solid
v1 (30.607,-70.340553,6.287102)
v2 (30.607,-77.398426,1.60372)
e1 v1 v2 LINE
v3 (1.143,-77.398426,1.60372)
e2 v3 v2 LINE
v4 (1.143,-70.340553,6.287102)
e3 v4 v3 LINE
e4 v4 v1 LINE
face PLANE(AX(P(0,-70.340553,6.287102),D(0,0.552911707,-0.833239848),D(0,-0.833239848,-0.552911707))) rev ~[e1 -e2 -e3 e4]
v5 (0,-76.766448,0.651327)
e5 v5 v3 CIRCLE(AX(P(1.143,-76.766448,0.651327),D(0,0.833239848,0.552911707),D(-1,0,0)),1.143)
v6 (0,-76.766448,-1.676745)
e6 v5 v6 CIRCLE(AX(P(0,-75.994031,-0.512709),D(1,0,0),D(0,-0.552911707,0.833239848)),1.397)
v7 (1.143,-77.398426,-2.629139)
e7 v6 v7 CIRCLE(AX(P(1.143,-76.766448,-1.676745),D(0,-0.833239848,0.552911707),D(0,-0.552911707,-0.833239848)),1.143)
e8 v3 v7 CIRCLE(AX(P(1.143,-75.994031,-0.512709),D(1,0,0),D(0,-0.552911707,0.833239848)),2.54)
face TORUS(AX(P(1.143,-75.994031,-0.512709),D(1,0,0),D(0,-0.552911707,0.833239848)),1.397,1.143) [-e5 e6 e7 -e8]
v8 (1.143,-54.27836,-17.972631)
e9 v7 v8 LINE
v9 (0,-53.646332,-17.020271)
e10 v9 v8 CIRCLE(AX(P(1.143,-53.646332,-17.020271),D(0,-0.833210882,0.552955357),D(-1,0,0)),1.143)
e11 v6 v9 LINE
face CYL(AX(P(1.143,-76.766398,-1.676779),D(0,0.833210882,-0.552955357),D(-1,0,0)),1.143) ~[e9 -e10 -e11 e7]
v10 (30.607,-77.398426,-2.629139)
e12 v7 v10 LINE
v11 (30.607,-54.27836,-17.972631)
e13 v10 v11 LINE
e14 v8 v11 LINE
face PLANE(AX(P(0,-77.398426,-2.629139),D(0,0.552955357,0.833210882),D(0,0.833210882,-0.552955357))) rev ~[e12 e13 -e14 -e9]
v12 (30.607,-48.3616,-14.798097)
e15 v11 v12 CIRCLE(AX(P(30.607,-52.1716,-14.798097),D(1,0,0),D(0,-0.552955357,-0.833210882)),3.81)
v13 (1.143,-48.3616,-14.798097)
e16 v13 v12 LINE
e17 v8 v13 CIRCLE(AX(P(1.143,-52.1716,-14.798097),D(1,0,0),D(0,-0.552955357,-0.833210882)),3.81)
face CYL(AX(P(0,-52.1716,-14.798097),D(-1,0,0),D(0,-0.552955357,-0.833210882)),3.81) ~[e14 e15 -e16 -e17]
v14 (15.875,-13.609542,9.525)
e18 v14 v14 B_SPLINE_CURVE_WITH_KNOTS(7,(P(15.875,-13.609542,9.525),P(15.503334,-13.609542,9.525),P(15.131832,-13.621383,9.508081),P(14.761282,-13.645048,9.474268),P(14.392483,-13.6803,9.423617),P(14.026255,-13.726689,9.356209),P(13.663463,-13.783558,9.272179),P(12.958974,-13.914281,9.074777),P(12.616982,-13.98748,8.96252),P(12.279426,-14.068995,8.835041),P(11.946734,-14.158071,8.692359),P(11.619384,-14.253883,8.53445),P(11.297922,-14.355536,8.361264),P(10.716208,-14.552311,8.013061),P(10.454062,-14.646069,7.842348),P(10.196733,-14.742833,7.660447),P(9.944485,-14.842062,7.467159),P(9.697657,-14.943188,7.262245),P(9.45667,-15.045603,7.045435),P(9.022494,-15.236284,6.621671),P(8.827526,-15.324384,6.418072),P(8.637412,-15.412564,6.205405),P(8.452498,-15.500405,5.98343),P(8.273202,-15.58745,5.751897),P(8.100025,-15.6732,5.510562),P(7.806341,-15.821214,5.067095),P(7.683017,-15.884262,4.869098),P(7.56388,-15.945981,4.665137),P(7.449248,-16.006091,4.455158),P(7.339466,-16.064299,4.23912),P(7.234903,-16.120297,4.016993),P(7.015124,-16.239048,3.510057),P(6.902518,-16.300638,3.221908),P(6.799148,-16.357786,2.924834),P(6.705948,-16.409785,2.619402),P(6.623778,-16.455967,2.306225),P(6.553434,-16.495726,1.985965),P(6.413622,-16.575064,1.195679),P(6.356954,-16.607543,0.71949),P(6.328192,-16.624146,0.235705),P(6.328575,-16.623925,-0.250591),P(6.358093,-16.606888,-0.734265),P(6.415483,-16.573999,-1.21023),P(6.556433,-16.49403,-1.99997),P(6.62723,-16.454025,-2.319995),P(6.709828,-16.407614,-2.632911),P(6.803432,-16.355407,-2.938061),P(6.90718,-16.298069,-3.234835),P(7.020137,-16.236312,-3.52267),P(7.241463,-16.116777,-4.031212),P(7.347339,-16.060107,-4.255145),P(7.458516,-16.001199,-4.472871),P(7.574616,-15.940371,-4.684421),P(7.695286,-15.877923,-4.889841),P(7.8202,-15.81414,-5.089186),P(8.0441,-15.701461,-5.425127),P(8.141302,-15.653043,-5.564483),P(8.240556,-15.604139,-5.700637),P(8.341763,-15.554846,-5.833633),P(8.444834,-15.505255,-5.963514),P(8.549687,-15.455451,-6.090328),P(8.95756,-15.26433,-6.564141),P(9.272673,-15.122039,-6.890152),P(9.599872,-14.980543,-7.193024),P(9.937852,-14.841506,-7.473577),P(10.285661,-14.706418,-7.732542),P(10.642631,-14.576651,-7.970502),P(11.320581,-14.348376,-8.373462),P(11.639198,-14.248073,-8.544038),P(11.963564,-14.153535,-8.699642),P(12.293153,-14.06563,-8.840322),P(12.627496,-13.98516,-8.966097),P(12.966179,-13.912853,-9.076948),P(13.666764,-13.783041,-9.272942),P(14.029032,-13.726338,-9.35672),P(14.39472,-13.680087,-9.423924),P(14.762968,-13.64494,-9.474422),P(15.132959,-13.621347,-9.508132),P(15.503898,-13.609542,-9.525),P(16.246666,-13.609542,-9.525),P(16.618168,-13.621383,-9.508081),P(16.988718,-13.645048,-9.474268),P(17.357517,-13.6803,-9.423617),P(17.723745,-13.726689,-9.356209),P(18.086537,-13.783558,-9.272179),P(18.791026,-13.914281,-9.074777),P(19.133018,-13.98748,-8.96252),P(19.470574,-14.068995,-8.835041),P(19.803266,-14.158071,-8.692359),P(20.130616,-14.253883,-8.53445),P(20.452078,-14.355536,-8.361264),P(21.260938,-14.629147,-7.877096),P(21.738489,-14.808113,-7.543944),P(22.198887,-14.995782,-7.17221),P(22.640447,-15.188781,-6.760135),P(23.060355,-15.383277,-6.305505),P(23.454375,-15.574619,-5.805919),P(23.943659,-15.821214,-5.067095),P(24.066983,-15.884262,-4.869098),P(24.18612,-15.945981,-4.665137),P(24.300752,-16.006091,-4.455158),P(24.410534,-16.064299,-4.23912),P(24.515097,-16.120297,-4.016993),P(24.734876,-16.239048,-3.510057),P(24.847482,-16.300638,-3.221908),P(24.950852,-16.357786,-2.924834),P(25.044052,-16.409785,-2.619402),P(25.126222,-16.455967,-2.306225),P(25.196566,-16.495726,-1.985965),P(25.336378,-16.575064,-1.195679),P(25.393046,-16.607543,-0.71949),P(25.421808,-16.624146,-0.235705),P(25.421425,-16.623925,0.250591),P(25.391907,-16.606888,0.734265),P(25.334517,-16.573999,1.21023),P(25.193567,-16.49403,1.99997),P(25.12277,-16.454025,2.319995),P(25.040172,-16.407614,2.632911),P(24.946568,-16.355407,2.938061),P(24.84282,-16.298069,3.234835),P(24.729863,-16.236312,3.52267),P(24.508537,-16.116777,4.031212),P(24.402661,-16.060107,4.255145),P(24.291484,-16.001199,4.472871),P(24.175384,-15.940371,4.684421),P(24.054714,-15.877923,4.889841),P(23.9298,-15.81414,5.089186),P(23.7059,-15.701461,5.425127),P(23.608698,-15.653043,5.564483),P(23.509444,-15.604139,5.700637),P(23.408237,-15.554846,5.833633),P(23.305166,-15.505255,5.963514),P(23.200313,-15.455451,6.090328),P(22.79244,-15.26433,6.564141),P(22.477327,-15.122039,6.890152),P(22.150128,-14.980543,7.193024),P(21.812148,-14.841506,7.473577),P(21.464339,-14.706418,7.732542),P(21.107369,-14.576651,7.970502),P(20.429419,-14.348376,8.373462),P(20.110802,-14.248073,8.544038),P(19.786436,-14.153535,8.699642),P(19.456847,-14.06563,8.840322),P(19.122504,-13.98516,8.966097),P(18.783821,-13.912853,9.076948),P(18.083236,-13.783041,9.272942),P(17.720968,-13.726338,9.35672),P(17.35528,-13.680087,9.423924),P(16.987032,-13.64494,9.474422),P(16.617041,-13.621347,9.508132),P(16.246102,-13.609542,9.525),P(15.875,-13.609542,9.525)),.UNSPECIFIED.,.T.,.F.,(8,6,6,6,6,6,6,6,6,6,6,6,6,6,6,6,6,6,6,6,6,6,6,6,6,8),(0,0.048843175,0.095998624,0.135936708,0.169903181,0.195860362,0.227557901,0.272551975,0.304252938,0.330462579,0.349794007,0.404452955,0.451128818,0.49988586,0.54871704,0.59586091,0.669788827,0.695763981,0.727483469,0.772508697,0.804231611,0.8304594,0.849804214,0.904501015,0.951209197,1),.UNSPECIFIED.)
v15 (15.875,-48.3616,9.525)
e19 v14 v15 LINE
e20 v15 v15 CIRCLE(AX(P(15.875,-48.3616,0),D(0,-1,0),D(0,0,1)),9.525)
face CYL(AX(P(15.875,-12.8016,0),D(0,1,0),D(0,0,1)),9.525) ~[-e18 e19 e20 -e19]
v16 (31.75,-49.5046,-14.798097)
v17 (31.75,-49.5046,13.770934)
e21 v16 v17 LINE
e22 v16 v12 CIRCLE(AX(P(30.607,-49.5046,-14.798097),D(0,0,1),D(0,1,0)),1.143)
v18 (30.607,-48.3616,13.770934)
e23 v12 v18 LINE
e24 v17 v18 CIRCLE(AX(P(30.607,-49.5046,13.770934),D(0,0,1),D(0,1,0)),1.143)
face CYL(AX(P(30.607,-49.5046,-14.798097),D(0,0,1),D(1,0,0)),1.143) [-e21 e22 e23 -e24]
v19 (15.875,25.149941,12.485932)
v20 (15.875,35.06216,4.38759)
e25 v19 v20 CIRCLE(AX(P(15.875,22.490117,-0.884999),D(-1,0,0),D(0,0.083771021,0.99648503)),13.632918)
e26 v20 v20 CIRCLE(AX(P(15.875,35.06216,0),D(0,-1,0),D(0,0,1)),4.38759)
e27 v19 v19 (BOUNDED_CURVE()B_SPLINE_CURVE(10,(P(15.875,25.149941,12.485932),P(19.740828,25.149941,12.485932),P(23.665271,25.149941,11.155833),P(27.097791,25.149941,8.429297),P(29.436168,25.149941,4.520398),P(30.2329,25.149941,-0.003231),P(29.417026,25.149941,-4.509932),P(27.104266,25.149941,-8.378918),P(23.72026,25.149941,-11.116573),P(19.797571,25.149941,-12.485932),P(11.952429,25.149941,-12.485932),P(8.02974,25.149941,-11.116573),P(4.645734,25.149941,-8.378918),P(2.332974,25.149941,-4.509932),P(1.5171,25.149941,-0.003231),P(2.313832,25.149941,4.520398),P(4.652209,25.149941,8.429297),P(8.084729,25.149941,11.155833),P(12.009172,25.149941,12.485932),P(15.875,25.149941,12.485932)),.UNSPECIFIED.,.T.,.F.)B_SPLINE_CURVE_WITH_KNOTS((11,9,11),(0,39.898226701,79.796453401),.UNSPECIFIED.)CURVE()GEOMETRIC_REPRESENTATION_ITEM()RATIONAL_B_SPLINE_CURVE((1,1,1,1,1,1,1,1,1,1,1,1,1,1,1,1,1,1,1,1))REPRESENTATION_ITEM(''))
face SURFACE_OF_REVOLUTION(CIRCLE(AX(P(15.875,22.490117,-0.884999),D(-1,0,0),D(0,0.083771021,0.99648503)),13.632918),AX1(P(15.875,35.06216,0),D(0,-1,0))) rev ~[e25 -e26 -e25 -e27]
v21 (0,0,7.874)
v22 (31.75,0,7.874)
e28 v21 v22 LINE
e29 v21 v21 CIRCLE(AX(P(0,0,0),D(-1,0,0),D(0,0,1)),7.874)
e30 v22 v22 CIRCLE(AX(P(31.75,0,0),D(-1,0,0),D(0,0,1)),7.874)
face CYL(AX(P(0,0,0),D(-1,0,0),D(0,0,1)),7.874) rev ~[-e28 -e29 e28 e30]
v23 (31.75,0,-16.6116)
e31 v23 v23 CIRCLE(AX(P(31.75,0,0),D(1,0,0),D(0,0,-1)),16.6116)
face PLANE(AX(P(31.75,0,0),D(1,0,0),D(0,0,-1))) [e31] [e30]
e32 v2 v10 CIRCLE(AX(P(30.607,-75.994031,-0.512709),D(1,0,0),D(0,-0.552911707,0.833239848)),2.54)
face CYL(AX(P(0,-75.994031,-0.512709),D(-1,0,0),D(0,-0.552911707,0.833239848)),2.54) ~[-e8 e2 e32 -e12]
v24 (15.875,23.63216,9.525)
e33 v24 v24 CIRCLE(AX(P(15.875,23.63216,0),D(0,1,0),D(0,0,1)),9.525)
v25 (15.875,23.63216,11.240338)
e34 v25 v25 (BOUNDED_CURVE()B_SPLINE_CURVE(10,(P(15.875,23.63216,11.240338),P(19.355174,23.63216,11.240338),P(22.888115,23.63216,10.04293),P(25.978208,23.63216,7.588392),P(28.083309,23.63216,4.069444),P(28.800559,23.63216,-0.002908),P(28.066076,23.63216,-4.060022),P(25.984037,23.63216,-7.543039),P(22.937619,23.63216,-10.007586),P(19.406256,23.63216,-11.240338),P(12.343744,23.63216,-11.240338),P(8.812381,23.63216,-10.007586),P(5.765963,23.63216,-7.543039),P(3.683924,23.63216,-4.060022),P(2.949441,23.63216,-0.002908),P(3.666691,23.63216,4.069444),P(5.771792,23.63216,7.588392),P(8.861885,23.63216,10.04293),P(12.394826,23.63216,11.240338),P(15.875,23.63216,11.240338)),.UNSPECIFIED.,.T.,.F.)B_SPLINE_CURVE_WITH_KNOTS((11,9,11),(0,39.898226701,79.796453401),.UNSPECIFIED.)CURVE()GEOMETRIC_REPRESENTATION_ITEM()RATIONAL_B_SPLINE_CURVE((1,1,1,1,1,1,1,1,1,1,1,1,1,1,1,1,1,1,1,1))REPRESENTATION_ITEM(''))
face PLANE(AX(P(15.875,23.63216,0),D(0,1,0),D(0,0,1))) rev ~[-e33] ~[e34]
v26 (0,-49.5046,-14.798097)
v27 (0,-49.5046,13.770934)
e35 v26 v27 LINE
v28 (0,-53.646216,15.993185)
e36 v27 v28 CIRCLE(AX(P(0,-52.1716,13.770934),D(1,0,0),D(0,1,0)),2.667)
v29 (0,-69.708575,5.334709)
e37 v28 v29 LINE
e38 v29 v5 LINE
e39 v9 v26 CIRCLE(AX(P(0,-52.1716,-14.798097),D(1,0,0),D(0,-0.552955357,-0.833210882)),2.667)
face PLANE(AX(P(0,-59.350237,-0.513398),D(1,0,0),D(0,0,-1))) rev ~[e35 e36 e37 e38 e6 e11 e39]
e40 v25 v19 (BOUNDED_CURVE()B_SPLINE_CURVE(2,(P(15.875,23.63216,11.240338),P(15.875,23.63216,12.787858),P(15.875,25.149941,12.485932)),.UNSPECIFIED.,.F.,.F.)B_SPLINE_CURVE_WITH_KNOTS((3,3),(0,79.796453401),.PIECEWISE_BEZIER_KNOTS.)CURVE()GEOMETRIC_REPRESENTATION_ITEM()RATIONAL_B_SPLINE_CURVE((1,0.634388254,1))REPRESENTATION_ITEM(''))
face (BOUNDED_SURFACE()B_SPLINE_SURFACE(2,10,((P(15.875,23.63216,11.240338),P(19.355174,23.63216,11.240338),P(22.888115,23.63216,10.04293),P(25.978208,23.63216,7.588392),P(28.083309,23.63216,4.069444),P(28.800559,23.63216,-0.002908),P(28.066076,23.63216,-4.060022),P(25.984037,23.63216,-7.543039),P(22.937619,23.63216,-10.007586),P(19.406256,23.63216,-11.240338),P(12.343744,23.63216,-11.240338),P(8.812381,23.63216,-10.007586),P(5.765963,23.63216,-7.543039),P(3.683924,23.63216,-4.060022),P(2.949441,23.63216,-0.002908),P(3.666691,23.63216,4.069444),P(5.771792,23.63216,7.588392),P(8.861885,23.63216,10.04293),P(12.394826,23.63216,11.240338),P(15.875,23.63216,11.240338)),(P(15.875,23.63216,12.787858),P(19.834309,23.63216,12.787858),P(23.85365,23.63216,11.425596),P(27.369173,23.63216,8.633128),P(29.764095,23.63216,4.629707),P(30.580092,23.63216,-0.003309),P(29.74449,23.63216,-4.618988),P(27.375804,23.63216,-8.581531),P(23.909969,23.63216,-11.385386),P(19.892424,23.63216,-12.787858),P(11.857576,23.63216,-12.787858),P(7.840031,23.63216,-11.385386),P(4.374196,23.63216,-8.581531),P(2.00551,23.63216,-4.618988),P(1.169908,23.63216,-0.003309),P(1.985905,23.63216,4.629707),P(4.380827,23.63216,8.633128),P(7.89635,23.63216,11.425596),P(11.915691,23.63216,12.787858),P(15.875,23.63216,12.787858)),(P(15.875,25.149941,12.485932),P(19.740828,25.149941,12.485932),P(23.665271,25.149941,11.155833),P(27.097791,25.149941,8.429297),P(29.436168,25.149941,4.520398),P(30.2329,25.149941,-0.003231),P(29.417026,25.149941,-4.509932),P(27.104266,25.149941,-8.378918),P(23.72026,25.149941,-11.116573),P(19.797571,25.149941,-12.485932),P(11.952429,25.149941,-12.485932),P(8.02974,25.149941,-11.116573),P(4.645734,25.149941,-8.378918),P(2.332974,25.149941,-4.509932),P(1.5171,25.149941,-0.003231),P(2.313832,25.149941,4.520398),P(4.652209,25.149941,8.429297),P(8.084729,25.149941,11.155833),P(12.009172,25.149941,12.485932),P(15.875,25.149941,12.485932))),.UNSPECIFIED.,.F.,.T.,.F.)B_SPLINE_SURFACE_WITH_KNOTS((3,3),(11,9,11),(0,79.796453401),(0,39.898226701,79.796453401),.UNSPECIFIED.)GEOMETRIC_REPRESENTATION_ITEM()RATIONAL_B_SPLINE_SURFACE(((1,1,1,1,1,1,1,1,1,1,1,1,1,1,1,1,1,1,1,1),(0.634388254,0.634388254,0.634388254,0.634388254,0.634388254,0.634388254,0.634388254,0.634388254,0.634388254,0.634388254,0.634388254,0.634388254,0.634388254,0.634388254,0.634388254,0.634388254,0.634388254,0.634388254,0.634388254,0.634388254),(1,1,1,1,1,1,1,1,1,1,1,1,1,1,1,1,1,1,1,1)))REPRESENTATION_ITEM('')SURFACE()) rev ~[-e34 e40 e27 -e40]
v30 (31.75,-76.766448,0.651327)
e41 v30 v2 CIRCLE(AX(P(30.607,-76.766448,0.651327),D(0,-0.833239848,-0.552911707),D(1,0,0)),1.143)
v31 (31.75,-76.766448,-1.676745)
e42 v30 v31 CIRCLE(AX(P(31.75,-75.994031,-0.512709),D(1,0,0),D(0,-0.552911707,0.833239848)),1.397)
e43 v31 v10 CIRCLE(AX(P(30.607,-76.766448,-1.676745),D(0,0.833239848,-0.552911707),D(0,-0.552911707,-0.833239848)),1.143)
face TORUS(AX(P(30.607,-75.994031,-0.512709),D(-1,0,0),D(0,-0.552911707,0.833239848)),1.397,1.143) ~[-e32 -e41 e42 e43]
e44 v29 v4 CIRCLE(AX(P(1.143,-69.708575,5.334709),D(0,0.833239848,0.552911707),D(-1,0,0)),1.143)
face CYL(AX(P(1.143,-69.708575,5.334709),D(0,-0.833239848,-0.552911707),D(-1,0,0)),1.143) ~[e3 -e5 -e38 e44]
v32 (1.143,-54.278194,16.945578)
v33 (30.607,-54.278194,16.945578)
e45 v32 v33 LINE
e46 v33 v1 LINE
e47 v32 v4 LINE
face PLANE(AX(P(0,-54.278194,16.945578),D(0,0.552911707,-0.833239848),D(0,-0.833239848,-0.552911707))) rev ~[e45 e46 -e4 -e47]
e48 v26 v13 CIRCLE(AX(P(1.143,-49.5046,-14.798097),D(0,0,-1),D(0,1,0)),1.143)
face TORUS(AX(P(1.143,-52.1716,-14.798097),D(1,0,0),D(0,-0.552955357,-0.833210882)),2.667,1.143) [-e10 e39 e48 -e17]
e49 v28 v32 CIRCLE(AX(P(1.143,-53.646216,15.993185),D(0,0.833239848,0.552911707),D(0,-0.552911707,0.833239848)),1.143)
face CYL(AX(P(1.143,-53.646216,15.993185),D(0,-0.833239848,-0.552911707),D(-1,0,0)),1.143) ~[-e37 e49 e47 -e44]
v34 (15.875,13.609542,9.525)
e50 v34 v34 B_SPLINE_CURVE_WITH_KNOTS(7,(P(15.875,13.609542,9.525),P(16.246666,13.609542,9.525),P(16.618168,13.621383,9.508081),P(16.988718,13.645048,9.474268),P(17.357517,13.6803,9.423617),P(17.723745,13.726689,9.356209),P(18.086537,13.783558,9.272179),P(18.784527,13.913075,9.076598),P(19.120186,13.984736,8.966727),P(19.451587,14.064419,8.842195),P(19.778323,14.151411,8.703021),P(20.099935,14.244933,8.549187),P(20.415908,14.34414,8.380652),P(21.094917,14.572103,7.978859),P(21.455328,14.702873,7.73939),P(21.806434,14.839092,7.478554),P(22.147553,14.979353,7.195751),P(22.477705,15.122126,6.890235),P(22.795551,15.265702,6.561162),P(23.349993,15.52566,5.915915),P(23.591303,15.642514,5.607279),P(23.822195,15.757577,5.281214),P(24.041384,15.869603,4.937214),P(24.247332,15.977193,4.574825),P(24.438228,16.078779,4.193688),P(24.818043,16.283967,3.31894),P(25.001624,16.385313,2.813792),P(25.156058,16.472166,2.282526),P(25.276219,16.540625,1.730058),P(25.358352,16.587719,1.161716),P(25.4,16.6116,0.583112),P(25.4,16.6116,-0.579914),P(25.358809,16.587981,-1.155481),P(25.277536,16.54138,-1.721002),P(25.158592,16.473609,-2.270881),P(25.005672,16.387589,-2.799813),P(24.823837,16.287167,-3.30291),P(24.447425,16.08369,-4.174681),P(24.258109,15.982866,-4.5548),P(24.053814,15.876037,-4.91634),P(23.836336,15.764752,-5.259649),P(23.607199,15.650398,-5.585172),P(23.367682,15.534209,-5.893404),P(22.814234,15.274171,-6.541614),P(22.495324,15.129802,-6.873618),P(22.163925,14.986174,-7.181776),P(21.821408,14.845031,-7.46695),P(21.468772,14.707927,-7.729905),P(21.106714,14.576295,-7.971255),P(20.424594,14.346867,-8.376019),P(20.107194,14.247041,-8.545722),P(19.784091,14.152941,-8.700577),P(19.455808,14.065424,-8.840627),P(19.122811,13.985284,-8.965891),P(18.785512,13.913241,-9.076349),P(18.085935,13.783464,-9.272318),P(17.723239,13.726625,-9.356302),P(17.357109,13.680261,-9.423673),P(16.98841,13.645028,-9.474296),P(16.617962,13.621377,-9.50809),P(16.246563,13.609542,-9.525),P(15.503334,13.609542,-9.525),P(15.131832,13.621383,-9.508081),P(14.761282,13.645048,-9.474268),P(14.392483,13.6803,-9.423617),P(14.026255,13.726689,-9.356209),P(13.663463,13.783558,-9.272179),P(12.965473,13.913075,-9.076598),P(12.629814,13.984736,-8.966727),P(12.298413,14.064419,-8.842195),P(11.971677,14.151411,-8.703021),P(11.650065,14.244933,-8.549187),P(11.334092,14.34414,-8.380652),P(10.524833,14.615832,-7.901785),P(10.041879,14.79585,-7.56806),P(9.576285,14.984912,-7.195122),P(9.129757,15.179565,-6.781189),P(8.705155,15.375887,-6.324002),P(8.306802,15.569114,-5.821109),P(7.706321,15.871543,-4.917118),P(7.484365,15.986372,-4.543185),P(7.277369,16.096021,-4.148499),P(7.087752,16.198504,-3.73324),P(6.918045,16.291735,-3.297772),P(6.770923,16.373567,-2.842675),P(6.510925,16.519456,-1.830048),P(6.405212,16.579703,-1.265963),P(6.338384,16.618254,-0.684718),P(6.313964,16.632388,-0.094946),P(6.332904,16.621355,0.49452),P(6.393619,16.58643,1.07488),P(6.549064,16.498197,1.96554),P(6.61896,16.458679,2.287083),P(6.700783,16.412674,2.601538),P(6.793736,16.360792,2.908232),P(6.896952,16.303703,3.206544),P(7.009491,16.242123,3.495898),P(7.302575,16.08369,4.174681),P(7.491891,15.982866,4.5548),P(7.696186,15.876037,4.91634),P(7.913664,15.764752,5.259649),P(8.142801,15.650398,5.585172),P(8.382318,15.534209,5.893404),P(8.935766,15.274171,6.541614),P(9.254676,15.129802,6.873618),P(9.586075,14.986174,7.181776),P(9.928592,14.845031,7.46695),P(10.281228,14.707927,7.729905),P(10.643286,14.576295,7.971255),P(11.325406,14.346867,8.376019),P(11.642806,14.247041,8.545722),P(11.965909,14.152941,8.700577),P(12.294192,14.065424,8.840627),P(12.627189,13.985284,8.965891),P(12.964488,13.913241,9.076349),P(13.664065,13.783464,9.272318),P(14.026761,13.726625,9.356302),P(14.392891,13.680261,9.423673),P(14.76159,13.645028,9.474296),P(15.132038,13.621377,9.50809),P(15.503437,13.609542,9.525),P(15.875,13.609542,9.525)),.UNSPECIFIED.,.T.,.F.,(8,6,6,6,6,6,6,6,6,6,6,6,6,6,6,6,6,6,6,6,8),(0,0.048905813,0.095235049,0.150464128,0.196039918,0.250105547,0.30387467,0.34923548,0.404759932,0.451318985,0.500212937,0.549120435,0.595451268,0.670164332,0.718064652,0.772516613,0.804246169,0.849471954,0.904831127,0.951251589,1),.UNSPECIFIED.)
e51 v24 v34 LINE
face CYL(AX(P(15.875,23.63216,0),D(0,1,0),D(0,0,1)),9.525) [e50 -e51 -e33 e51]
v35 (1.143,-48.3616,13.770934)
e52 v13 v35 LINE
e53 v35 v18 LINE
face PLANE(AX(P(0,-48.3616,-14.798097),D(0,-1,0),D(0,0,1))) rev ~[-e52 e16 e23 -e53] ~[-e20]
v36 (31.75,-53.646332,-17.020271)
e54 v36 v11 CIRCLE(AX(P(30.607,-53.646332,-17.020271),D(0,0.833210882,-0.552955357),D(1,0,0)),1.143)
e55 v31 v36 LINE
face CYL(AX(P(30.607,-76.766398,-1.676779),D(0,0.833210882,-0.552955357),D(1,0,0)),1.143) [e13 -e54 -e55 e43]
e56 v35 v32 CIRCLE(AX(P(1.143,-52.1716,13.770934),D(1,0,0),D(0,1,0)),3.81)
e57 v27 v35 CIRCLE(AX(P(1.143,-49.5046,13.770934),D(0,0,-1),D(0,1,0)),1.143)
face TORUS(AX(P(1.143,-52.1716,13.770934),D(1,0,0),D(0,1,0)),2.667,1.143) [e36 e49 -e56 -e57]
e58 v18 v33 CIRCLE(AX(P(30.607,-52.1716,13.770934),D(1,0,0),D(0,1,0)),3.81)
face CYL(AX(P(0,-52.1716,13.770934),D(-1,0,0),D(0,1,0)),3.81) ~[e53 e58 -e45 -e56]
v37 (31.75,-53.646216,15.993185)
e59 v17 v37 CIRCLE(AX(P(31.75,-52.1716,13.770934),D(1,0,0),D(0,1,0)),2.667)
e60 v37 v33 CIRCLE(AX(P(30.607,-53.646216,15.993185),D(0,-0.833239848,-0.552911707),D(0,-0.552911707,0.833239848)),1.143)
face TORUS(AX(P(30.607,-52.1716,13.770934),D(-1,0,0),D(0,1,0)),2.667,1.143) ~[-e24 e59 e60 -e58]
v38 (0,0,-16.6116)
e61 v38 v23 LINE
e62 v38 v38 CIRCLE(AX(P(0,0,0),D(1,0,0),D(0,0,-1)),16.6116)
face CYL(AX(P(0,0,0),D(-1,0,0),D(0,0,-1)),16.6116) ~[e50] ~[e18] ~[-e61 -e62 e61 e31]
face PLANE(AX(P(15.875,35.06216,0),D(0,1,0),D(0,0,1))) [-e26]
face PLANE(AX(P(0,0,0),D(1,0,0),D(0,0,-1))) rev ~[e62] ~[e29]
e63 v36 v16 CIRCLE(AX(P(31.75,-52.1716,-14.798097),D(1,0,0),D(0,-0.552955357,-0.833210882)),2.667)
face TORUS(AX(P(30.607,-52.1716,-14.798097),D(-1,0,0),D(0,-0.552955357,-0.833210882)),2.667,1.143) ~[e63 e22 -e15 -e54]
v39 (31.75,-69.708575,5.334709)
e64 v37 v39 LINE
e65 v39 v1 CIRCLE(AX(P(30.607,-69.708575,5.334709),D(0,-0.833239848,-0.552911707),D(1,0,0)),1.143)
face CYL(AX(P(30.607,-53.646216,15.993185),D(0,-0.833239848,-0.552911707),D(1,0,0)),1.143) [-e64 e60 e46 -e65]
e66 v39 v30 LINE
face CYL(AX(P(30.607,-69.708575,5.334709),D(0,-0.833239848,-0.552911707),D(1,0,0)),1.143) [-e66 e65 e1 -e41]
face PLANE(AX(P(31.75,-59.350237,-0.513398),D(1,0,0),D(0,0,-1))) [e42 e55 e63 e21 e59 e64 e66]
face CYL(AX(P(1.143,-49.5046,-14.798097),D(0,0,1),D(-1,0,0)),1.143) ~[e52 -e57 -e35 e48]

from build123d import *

# Parameters (mm, degrees)
SKETCH1_R                = 16.6116
BOSS_EXTRUDE1_DEPTH      = 31.75
SKETCH5_R                = 7.874
CUT_EXTRUDE4_DEPTH       = 31.75
SKETCH7_R                = 9.525
BOSS_EXTRUDE2_DEPTH      = 14.732
SKETCH8_R                = 12.7
BOSS_EXTRUDE3_DEPTH      = 11.43
FILLET5_R                = 1.27
BOSS_EXTRUDE4_DEPTH      = 15.875
BOSS_EXTRUDE4_DEPTH_BACK = 15.875
BOSS_EXTRUDE5_DEPTH      = 31.75
BOSS_EXTRUDE5_DEPTH_BACK = 3.81
SKETCH13_R               = 9.525
FILLET6_R                = 1.143


with BuildPart() as part:
    # Sketch1 → Boss-Extrude1 (new body)
    with BuildSketch(Plane(origin=(0, 0, 0), x_dir=(0, 0, -1), z_dir=(1, 0, 0))):
        Circle(SKETCH1_R)
    extrude(amount=BOSS_EXTRUDE1_DEPTH)

    # Sketch5 → Cut-Extrude4 (cut)
    with BuildSketch(Plane.ZY):
        Circle(SKETCH5_R)
    extrude(amount=-CUT_EXTRUDE4_DEPTH, mode=Mode.SUBTRACT)

    # Sketch7 → Boss-Extrude2 (add)
    with BuildSketch(Plane(origin=(0, 23.63216, 0), x_dir=(1, 0, 0), z_dir=(0, 1, 0))):
        with Locations(Location((15.875, 0, 0), (0, 0, 270))):
            Circle(SKETCH7_R)
    extrude(amount=-BOSS_EXTRUDE2_DEPTH)

    # Sketch8 → Boss-Extrude3 (add)
    with BuildSketch(Plane(origin=(0, 23.63216, 0), x_dir=(1, 0, 0), z_dir=(0, 1, 0))):
        with Locations(Location((15.875, 0, 0), (0, 0, 270))):
            Circle(SKETCH8_R)
    extrude(amount=BOSS_EXTRUDE3_DEPTH)

    # Sketch10 → Cut-Revolve1 (revolve, cut)
    with BuildSketch(Plane.XY, mode=Mode.PRIVATE) as cut_revolve1_sk:
        with BuildLine():
            Line((11.487410409, 35.062159614), (3.175, 35.06216))
            Line((3.175, 35.06216), (3.175, 23.63216))
            ThreePointArc((3.175, 23.63216), (5.734420744, 30.508413369), (11.487410409, 35.062159614))
        make_face()
    revolve(cut_revolve1_sk.sketch.rotate(Axis((15.875, 35.06216, 0), (0, -1, 0)), 270), axis=Axis((15.875, 35.06216, 0), (0, -1, 0)), mode=Mode.SUBTRACT)

    # Fillet5
    fillet5_edges = [part.edges().sort_by_distance(p)[0] for p in [
        (15.875, 23.63216, -12.7),
    ]]
    fillet(fillet5_edges, radius=FILLET5_R)



with BuildPart() as body_2:
    # Sketch12 → Boss-Extrude4 (new, two sides: drawn at the far end of the back side and taken through both)
    with BuildSketch(Plane(origin=(15.875, 0, 0), x_dir=(0, 0, -1), z_dir=(1, 0, 0)).offset(-BOSS_EXTRUDE4_DEPTH_BACK)):
        with BuildLine():
            Line((2.629138572, -77.398426312), (7.313053442, -70.340553032))
            Line((7.313053442, -70.340553032), (17.972630658, -54.27835991))
            ThreePointArc((17.972630658, -54.27835991), (18.155391887, -50.370302586), (14.798097199, -48.3616))
            Line((14.798097199, -48.3616), (-13.770933928, -48.3616))
            ThreePointArc((-13.770933928, -48.3616), (-17.128181434, -50.370214649), (-16.945577748, -54.278193604))
            Line((-16.945577748, -54.278193604), (-6.287102166, -70.340553032))
            Line((-6.287102166, -70.340553032), (-1.603719855, -77.398426312))
            ThreePointArc((-1.603719855, -77.398426312), (0.512709359, -78.534030576), (2.629138572, -77.398426312))
        make_face()
    extrude(amount=BOSS_EXTRUDE4_DEPTH + BOSS_EXTRUDE4_DEPTH_BACK)


with BuildPart() as part_1:
    add(part.part)

    add(body_2.part)  # Boss-Extrude5 merges body 2
    # Sketch13 → Boss-Extrude5 (add, two sides: drawn at the far end of the back side and taken through both)
    with BuildSketch(Plane(origin=(0, -16.6116, 0), x_dir=(-1, 0, 0), z_dir=(0, -1, 0)).offset(-BOSS_EXTRUDE5_DEPTH_BACK)):
        with Locations(Location((-15.875, 0, 0), (0, 0, 270))):
            Circle(SKETCH13_R)
    extrude(amount=BOSS_EXTRUDE5_DEPTH + BOSS_EXTRUDE5_DEPTH_BACK)

    # Fillet6
    fillet6_edges = [part_1.edges().sort_by_distance(p)[0] for p in [
        (0, -50.370214649, 17.128181434),
        (0, -48.3616, -0.513581636),
        (0, -50.370302586, -18.155391887),
        (0, -65.838393111, -10.300884615),
        (0, -78.534030576, -0.512709359),
        (0, -65.838309958, 9.274648801),
        (31.75, -50.370214649, 17.128181434),
        (31.75, -65.838309958, 9.274648801),
        (31.75, -78.534030576, -0.512709359),
        (31.75, -65.838393111, -10.300884615),
        (31.75, -50.370302586, -18.155391887),
        (31.75, -48.3616, -0.513581636),
    ]]
    fillet(fillet6_edges, radius=FILLET6_R)


solid = part_1.part
